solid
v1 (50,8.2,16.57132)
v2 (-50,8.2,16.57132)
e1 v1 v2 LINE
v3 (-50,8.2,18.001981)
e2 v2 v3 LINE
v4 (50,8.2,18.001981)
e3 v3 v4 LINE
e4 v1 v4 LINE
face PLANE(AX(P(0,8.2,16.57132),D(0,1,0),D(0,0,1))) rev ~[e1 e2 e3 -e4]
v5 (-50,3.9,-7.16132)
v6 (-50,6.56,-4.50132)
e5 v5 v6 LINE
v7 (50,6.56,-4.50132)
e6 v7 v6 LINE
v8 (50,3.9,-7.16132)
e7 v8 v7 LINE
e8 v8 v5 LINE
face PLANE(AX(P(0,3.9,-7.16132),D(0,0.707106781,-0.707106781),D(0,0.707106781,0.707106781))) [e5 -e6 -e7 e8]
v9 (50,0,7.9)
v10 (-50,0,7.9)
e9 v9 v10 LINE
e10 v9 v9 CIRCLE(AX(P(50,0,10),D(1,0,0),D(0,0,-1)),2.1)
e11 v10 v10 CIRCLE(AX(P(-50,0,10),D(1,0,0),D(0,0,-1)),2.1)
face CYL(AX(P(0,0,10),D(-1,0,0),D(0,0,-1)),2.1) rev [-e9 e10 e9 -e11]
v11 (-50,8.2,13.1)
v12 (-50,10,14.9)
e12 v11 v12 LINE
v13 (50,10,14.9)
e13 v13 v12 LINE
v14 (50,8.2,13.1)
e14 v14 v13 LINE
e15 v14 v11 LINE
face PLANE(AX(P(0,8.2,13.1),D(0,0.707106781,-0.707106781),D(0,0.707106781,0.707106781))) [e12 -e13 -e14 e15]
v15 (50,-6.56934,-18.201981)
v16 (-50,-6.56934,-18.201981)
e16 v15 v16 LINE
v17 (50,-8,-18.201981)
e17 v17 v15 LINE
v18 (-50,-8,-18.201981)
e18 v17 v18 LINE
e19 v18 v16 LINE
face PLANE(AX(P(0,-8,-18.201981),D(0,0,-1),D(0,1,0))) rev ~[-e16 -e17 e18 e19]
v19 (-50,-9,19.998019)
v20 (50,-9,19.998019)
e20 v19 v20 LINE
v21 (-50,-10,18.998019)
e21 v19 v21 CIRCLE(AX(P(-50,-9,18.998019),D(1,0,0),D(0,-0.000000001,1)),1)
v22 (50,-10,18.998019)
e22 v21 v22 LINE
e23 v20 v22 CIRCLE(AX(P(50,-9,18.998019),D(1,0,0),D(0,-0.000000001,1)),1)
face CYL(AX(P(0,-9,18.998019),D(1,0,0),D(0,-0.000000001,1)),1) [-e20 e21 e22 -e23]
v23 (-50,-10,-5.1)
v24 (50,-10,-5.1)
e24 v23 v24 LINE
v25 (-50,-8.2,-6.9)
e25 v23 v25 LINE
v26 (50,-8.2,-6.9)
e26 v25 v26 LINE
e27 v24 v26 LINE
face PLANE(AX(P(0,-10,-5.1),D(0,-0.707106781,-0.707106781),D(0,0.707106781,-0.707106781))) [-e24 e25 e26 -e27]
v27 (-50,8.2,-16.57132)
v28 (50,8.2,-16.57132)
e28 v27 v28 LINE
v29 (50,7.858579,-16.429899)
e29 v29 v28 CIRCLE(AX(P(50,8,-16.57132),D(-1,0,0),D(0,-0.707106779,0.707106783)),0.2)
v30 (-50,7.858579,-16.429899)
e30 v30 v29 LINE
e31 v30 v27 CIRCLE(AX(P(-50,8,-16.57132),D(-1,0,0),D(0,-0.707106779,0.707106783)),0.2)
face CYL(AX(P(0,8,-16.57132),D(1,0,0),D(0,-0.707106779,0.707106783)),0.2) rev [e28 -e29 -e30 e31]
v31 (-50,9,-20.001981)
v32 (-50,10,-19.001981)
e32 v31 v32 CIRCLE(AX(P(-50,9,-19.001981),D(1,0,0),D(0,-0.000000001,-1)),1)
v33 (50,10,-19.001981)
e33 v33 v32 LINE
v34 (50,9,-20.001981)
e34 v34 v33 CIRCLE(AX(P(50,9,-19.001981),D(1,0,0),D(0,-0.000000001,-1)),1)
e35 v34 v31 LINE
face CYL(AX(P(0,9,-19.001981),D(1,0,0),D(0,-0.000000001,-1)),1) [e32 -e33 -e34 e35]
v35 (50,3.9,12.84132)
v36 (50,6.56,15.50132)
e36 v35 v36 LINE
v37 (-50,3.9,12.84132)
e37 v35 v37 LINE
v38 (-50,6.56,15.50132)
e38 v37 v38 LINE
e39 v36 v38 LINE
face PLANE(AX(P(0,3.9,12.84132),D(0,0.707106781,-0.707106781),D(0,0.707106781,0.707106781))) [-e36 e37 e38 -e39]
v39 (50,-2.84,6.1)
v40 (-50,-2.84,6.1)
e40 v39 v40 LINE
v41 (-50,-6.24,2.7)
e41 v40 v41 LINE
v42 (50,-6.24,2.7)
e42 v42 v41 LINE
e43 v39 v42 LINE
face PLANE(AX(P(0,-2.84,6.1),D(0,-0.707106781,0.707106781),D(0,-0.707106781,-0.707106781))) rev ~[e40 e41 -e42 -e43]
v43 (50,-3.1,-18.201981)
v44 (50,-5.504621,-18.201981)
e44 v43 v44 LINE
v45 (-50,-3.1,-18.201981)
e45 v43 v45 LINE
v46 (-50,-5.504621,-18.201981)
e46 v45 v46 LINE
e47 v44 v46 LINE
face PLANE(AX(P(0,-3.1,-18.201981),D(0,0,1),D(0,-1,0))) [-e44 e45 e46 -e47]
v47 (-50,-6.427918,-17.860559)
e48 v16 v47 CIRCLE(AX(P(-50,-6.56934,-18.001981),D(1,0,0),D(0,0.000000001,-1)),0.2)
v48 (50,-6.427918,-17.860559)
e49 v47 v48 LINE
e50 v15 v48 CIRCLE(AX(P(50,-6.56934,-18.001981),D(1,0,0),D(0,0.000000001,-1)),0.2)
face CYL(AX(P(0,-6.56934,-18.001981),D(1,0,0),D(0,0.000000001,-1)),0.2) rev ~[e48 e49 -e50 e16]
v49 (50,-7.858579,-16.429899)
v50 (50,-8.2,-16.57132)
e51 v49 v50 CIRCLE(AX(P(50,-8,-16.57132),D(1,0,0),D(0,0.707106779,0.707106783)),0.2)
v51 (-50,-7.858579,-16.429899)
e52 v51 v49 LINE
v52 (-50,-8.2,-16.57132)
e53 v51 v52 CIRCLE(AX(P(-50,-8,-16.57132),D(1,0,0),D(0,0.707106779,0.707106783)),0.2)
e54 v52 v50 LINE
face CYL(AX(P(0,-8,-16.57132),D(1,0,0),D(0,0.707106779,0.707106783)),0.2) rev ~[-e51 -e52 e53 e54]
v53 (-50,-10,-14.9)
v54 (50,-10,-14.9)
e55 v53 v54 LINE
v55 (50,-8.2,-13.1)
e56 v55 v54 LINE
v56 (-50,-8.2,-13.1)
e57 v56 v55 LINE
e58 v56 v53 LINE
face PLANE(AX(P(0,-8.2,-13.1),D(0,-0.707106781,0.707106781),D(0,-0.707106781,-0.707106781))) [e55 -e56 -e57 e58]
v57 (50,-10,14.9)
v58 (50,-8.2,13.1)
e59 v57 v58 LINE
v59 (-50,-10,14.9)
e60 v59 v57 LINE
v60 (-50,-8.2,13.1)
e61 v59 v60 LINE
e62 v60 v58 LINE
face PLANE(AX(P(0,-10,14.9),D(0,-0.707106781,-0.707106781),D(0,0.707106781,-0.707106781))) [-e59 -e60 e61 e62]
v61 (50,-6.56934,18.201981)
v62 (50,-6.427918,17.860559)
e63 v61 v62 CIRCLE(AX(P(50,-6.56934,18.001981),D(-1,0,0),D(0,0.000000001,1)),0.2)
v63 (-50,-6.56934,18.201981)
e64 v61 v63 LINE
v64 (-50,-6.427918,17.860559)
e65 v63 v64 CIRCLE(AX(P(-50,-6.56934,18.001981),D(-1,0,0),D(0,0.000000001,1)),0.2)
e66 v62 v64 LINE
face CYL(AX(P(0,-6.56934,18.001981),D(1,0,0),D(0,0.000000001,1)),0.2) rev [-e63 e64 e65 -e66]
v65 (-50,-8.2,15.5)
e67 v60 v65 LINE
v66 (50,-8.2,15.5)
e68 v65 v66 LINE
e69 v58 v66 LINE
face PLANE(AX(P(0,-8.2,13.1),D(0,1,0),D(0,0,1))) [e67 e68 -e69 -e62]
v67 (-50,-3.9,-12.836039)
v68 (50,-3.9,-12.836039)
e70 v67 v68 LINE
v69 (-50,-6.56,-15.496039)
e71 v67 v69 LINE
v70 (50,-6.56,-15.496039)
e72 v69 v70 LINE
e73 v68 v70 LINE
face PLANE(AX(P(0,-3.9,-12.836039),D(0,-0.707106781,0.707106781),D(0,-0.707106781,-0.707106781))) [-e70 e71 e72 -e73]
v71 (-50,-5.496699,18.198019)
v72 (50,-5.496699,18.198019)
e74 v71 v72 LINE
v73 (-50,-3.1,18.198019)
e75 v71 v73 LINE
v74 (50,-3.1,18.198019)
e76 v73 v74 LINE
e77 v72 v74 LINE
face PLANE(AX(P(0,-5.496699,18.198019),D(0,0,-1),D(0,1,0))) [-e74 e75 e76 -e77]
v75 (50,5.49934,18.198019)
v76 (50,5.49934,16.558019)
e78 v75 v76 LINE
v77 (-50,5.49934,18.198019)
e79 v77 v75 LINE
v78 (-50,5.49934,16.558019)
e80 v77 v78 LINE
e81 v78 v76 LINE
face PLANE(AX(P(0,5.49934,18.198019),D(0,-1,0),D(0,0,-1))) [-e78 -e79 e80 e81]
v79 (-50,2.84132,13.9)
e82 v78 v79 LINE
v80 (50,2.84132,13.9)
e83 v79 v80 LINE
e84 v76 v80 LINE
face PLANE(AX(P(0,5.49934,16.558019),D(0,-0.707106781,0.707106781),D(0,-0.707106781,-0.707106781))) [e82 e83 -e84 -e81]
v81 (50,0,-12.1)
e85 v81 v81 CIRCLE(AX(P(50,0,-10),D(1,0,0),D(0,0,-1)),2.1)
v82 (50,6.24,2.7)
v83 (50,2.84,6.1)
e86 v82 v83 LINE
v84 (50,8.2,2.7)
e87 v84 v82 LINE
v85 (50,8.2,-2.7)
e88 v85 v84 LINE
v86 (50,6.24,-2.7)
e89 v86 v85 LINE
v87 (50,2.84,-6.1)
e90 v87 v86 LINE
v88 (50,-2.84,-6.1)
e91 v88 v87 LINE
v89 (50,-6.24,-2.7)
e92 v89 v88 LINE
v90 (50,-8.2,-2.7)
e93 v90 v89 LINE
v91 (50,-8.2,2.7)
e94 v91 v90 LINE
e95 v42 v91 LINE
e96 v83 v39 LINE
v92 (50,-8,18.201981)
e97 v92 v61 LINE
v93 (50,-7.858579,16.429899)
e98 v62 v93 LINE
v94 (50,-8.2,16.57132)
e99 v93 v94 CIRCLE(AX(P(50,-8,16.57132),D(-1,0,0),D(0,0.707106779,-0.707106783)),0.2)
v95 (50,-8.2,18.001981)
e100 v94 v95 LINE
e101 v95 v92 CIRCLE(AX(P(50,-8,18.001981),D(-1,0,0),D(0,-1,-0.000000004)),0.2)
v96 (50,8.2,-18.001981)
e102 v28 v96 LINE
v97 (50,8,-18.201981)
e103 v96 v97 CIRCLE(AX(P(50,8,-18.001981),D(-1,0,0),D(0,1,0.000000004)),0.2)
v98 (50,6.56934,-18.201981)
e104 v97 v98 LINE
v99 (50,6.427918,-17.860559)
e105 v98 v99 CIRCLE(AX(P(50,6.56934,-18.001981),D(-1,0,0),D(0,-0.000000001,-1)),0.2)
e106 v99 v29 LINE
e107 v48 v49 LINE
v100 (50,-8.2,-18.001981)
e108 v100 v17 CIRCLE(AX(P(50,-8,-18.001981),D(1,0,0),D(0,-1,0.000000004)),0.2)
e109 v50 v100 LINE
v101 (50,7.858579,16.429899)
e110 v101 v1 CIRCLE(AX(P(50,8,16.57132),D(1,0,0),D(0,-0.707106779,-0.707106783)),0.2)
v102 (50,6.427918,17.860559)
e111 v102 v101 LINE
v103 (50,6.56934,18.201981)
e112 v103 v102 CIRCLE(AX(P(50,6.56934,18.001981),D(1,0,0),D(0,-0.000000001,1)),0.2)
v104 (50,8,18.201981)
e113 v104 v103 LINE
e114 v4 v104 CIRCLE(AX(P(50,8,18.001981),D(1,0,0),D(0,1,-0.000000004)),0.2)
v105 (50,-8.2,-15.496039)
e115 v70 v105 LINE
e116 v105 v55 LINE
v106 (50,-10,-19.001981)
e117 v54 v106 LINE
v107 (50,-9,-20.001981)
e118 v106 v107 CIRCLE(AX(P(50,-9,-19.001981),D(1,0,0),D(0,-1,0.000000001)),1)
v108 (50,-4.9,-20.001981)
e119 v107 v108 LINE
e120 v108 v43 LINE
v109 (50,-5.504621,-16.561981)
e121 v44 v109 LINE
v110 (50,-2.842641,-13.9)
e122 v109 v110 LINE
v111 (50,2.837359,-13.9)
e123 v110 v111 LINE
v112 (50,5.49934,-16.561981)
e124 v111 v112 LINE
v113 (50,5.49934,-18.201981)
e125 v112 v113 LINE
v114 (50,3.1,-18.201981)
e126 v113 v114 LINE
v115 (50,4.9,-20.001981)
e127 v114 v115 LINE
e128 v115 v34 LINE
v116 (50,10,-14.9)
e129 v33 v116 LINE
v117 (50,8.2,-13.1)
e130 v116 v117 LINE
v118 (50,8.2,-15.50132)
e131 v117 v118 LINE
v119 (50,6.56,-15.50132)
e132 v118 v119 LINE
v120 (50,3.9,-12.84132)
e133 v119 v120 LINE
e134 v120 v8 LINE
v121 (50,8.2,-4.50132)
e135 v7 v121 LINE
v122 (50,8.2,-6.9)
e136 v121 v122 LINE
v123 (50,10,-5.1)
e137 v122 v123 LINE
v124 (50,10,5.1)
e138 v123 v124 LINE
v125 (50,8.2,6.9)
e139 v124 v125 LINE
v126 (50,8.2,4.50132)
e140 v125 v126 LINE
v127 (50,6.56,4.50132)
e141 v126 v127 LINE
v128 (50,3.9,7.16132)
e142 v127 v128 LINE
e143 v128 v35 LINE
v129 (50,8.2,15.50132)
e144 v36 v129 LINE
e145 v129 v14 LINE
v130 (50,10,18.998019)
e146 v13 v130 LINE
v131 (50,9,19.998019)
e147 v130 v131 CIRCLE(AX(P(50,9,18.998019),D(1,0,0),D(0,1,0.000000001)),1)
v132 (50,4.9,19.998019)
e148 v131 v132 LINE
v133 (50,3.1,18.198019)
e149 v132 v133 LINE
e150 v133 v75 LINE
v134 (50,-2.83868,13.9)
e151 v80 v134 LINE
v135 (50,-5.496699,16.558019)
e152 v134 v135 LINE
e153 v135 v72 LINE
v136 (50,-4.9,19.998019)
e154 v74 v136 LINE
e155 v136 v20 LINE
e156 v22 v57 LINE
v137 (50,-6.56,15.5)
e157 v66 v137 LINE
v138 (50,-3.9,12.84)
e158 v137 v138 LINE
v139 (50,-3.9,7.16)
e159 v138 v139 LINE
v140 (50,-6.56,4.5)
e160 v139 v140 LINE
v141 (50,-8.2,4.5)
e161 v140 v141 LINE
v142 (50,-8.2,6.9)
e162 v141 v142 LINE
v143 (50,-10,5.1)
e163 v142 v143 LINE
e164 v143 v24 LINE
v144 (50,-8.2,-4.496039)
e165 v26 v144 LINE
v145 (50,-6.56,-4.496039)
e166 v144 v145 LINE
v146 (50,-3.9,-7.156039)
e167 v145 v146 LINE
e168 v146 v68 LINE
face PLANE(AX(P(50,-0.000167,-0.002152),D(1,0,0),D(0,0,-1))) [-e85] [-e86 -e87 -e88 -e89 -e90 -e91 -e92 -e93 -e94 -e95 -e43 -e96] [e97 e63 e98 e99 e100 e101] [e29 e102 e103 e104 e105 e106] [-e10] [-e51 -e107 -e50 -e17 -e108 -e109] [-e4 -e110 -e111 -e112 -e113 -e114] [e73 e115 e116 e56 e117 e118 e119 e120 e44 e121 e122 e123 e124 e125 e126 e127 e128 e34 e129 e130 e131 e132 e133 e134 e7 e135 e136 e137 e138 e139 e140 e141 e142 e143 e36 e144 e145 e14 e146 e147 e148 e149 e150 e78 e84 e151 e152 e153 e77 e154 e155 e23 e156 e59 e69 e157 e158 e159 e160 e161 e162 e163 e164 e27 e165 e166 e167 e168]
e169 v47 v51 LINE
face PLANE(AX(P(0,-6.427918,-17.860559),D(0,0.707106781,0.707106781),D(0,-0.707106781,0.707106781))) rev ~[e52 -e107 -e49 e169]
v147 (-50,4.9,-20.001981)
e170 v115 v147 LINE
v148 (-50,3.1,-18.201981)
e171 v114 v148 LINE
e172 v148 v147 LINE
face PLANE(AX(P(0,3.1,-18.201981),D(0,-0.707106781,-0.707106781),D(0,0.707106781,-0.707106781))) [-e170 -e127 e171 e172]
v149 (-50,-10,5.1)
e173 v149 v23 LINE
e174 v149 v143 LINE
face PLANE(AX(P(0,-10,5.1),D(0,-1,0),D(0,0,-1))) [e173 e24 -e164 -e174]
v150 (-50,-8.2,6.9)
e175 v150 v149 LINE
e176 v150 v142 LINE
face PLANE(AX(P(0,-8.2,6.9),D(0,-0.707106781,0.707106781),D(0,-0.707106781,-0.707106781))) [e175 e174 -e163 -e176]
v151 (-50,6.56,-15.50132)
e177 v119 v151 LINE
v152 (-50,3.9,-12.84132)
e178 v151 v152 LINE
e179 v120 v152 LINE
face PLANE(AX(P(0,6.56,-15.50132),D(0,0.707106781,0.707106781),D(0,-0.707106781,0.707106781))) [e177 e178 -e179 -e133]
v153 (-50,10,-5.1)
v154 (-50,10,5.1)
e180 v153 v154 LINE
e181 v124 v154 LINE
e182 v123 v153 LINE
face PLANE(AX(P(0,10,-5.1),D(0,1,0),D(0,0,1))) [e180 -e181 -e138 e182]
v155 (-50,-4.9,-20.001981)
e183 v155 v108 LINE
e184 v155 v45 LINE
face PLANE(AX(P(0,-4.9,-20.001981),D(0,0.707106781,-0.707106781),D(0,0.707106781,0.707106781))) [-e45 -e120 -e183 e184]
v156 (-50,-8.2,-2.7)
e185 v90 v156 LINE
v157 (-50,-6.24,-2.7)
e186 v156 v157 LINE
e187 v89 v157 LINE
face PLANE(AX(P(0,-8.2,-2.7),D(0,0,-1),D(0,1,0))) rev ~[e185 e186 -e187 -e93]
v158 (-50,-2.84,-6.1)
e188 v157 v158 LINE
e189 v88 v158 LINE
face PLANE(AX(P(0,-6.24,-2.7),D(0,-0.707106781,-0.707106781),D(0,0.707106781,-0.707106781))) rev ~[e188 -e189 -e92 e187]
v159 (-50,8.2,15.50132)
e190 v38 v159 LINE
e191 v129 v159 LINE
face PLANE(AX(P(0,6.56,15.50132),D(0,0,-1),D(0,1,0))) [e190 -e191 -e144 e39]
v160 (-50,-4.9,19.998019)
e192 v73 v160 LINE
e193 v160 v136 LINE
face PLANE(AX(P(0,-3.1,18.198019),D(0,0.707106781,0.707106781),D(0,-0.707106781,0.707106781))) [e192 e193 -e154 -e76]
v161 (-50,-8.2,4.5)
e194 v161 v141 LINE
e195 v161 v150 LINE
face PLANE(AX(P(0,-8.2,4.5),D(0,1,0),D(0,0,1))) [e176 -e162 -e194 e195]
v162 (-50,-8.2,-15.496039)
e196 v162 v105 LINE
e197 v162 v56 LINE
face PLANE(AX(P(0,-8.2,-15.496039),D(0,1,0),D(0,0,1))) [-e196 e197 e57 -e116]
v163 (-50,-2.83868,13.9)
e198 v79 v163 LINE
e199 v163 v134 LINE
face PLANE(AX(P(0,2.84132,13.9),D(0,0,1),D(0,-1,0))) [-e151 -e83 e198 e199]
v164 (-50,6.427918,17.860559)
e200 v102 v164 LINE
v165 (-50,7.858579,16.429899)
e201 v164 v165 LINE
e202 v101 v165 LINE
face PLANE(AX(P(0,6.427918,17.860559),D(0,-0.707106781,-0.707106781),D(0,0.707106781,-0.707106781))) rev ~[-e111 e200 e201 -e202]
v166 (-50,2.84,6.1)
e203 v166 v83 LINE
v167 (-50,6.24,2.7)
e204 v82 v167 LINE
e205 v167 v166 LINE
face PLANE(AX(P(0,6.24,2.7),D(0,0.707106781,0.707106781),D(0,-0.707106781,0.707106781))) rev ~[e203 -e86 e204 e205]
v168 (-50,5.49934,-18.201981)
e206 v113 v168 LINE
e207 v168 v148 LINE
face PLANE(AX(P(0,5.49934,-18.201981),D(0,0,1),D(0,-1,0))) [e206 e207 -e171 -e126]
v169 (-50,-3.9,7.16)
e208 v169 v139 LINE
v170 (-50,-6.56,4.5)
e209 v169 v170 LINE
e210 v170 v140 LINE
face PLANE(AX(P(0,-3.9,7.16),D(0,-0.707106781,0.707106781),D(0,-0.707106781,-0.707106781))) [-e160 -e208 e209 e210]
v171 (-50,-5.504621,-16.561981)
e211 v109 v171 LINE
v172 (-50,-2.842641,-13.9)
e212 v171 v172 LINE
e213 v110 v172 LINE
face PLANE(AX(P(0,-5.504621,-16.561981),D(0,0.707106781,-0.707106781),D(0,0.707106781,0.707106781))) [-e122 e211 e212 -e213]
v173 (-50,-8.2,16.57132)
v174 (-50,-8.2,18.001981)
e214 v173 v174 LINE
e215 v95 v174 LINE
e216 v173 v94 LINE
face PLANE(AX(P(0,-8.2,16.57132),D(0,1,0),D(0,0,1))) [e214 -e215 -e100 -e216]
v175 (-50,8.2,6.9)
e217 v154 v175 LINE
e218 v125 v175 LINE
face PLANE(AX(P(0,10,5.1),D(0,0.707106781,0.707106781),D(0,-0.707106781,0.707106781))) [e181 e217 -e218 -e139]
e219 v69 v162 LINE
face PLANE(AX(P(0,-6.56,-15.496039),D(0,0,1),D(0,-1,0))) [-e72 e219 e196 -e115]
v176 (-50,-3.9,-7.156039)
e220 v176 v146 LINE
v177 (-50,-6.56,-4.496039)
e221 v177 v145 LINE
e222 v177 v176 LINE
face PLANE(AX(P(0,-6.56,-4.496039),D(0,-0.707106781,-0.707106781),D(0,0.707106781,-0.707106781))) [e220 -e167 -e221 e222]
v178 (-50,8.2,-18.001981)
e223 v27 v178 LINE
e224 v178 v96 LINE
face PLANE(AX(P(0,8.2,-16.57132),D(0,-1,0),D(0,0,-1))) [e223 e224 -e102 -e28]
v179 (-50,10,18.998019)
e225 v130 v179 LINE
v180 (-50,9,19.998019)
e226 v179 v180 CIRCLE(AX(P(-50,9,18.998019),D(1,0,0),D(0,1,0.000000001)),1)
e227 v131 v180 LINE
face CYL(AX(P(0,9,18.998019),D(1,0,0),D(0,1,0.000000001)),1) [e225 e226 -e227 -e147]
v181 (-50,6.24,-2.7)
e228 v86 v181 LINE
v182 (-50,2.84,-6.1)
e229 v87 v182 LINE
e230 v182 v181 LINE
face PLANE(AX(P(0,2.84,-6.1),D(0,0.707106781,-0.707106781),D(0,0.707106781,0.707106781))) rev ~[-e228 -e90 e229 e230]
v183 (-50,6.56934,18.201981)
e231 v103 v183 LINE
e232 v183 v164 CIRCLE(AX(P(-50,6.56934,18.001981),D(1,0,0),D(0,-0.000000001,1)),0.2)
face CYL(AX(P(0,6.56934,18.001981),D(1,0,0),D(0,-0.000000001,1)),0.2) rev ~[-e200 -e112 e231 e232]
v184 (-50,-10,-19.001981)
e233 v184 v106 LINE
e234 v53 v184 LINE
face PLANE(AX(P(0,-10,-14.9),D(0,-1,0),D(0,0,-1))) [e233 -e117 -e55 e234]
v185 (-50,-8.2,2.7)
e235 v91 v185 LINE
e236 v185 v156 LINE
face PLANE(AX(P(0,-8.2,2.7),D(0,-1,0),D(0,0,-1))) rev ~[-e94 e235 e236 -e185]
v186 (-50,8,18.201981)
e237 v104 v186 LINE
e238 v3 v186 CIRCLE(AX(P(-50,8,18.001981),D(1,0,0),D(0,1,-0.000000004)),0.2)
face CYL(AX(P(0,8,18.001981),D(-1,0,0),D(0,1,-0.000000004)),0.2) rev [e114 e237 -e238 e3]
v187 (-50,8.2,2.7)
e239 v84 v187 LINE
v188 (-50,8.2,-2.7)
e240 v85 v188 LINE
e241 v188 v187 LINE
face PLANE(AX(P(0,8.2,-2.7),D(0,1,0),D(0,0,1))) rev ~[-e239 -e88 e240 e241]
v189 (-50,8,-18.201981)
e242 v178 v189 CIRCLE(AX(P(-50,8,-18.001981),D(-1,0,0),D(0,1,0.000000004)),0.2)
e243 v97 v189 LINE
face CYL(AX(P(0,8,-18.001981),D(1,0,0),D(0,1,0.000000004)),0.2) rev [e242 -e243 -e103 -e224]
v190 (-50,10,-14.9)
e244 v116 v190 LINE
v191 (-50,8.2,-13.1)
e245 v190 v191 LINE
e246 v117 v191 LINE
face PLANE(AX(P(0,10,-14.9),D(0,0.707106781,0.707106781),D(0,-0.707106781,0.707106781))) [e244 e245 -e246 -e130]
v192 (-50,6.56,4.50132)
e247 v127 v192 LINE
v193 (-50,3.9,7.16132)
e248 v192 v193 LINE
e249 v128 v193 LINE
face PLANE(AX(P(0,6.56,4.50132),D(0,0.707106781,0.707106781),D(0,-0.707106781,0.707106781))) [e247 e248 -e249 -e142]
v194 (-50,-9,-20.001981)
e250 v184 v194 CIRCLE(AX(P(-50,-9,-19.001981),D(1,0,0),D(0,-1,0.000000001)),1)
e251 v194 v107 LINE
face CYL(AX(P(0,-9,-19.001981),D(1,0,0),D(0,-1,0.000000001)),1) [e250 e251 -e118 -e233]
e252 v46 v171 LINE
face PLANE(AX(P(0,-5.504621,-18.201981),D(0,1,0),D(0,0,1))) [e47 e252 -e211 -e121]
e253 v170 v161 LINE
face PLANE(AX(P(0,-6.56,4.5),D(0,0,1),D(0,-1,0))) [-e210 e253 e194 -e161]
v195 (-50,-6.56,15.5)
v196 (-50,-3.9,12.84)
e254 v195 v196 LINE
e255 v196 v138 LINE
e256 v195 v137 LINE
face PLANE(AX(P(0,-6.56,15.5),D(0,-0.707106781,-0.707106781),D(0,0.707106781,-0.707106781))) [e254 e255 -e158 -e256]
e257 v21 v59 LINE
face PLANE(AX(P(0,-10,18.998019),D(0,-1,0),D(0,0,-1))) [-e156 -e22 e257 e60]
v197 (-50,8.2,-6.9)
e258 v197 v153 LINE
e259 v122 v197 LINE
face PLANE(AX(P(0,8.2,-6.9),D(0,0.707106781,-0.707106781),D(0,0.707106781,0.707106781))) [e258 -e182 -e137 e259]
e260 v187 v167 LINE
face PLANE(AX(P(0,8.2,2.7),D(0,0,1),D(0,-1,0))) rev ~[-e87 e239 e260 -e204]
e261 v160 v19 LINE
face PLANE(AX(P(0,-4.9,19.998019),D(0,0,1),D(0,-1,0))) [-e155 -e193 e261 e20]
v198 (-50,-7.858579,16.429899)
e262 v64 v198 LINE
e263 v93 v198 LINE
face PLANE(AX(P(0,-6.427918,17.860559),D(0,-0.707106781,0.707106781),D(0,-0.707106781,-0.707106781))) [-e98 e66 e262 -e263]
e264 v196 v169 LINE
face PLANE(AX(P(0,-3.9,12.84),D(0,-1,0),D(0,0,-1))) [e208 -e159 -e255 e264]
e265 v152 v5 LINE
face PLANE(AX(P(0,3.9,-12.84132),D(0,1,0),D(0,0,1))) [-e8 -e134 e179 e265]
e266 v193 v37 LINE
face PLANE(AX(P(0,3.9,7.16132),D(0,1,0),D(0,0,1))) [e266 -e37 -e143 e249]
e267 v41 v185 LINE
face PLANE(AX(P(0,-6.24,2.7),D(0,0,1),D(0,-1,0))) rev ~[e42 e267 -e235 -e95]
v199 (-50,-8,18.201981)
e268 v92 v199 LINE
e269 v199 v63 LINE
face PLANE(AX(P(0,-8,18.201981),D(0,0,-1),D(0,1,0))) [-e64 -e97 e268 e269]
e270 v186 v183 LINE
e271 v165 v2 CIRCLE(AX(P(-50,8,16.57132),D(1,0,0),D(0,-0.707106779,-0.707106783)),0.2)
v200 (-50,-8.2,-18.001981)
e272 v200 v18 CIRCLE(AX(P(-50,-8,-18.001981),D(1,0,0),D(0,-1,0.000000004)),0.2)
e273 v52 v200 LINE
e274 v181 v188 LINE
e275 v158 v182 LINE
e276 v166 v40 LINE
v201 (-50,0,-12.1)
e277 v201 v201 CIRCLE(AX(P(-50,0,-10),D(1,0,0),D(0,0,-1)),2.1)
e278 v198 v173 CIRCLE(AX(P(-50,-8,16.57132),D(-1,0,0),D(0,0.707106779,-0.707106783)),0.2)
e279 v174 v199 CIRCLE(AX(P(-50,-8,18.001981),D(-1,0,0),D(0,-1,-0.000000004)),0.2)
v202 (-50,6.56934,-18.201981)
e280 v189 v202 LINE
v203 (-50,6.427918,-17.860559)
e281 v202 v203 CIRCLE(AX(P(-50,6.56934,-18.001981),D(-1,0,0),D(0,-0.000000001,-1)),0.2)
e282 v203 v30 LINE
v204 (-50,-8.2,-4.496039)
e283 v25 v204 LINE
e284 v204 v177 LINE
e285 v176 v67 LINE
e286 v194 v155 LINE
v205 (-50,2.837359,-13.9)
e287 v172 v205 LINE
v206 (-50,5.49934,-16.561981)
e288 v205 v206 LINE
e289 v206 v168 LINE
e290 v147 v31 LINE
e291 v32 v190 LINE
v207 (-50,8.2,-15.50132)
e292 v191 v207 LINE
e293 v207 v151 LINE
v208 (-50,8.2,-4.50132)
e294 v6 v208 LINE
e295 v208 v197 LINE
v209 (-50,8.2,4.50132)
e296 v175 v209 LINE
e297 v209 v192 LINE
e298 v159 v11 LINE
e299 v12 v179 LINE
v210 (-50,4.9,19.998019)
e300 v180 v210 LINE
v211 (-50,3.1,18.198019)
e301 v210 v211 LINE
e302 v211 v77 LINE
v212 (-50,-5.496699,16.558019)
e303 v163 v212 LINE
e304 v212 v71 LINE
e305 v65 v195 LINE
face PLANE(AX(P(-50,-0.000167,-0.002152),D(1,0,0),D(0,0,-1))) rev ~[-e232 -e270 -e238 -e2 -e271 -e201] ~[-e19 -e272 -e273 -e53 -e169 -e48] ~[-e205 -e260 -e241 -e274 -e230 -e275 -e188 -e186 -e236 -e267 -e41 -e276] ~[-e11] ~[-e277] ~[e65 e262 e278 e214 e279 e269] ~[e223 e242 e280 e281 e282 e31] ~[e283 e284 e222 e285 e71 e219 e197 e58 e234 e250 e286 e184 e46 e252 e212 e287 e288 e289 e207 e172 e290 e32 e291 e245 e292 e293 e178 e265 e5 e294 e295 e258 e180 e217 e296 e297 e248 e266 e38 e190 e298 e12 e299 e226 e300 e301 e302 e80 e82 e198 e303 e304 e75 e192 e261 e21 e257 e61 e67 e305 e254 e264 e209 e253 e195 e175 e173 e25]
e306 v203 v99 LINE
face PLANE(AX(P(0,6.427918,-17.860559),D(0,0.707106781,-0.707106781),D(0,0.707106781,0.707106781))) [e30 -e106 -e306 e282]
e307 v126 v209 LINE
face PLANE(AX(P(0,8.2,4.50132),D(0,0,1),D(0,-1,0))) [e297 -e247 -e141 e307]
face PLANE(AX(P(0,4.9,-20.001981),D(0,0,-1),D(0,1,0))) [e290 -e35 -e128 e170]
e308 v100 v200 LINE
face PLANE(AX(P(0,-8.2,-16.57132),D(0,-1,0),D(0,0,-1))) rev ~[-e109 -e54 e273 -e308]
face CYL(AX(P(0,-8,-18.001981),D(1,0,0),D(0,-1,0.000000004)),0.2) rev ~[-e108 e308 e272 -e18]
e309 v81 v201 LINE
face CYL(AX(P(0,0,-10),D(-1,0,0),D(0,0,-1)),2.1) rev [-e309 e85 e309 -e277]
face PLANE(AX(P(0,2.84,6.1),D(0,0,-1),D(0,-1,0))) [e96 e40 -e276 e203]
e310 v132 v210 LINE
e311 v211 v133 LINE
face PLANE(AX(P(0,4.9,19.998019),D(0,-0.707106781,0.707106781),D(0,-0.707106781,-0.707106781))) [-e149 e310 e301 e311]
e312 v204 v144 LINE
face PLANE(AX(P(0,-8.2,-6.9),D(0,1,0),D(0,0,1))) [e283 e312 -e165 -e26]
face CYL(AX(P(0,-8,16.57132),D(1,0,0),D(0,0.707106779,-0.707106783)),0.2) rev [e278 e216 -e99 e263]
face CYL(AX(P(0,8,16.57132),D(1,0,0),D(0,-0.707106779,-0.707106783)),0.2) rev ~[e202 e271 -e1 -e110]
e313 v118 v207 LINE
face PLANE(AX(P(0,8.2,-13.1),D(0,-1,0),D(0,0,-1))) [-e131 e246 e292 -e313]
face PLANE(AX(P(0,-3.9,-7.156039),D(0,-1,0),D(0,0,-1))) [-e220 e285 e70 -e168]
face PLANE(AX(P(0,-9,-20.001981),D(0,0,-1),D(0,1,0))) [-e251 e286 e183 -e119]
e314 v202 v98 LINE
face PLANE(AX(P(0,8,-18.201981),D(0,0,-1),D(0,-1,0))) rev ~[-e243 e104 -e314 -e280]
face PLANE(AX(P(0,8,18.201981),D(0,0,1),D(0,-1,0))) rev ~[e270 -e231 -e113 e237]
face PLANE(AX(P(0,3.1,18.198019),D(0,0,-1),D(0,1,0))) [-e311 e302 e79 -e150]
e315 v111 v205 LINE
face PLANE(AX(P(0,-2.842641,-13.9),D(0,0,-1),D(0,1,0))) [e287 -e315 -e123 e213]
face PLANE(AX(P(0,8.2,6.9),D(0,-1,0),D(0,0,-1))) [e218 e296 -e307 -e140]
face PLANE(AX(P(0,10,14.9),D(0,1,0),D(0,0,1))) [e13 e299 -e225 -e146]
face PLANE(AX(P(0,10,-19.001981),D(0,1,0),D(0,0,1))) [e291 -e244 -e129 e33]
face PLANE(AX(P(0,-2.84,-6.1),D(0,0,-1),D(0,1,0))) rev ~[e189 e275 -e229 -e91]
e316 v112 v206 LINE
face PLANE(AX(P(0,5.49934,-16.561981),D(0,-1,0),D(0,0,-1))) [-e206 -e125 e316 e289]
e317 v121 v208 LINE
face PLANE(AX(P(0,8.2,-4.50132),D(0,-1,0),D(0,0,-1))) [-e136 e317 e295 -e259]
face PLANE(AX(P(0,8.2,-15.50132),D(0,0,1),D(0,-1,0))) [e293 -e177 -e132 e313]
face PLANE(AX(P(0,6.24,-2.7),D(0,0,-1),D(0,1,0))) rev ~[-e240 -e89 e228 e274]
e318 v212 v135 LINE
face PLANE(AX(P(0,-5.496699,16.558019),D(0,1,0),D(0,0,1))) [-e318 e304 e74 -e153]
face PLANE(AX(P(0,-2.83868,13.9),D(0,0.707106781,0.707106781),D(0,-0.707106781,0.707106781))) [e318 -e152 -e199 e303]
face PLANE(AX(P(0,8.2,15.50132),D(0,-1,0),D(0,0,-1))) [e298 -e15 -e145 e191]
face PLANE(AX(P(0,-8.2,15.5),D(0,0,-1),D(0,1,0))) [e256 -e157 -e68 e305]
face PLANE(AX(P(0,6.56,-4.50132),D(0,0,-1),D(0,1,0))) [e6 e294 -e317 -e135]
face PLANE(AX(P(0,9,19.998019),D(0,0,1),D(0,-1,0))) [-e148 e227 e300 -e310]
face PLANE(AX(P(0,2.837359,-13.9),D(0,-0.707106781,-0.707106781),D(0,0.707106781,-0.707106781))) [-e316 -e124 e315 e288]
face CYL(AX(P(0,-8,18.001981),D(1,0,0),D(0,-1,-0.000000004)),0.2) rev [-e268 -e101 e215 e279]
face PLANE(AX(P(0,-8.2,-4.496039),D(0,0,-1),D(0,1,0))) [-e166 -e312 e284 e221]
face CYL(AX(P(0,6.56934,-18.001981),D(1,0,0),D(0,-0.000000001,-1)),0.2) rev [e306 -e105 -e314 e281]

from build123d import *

# Parameters (mm, degrees)
SKETCH5_R           = 2.1
BOSS_EXTRUDE1_DEPTH = 50


with BuildPart() as part:
    # Sketch5 → Boss-Extrude1 (new, symmetric)
    with BuildSketch(Plane(origin=(0, 0, 0), x_dir=(0, 0, -1), z_dir=(1, 0, 0))):
        with BuildLine():
            Line((-19.998019485, 4.9), (-18.198019485, 3.1))
            Line((-18.198019485, 3.1), (-18.198019485, 5.499339828))
            Line((-18.198019485, 5.499339828), (-16.558019485, 5.499339828))
            Line((-16.558019485, 5.499339828), (-13.9, 2.841320344))
            Line((-13.9, 2.841320344), (-13.9, -2.838679656))
            Line((-13.9, -2.838679656), (-16.558019485, -5.496699141))
            Line((-16.558019485, -5.496699141), (-18.198019485, -5.496699141))
            Line((-18.198019485, -5.496699141), (-18.198019485, -3.1))
            Line((-18.198019485, -3.1), (-19.998019485, -4.9))
            Line((-19.998019485, -4.9), (-19.998019485, -9))
            ThreePointArc((-19.998019485, -9), (-19.705126266, -9.707106781), (-18.998019485, -10))
            Line((-18.998019485, -10), (-14.9, -10))
            Line((-14.9, -10), (-13.1, -8.2))
            Line((-13.1, -8.2), (-15.5, -8.2))
            Line((-15.5, -8.2), (-15.5, -6.56))
            Line((-15.5, -6.56), (-12.84, -3.9))
            Line((-12.84, -3.9), (-7.16, -3.9))
            Line((-7.16, -3.9), (-4.5, -6.56))
            Line((-4.5, -6.56), (-4.5, -8.2))
            Line((-4.5, -8.2), (-6.9, -8.2))
            Line((-6.9, -8.2), (-5.1, -10))
            Line((-5.1, -10), (5.1, -10))
            Line((5.1, -10), (6.9, -8.2))
            Line((6.9, -8.2), (4.496038969, -8.2))
            Line((4.496038969, -8.2), (4.496038969, -6.56))
            Line((4.496038969, -6.56), (7.156038969, -3.9))
            Line((7.156038969, -3.9), (12.836038969, -3.9))
            Line((12.836038969, -3.9), (15.496038969, -6.56))
            Line((15.496038969, -6.56), (15.496038969, -8.2))
            Line((15.496038969, -8.2), (13.1, -8.2))
            Line((13.1, -8.2), (14.9, -10))
            Line((14.9, -10), (19.001980515, -10))
            ThreePointArc((19.001980515, -10), (19.709087297, -9.707106781), (20.001980515, -9))
            Line((20.001980515, -9), (20.001980515, -4.9))
            Line((20.001980515, -4.9), (18.201980515, -3.1))
            Line((18.201980515, -3.1), (18.201980515, -5.504621202))
            Line((18.201980515, -5.504621202), (16.561980515, -5.504621202))
            Line((16.561980515, -5.504621202), (13.9, -2.842640687))
            Line((13.9, -2.842640687), (13.9, 2.837359313))
            Line((13.9, 2.837359313), (16.561980515, 5.499339828))
            Line((16.561980515, 5.499339828), (18.201980515, 5.499339828))
            Line((18.201980515, 5.499339828), (18.201980515, 3.1))
            Line((18.201980515, 3.1), (20.001980515, 4.9))
            Line((20.001980515, 4.9), (20.001980515, 9))
            ThreePointArc((20.001980515, 9), (19.709087297, 9.707106781), (19.001980515, 10))
            Line((19.001980515, 10), (14.9, 10))
            Line((14.9, 10), (13.1, 8.2))
            Line((13.1, 8.2), (15.501320344, 8.2))
            Line((15.501320344, 8.2), (15.501320344, 6.56))
            Line((15.501320344, 6.56), (12.841320344, 3.9))
            Line((12.841320344, 3.9), (7.161320344, 3.9))
            Line((7.161320344, 3.9), (4.501320344, 6.56))
            Line((4.501320344, 6.56), (4.501320344, 8.2))
            Line((4.501320344, 8.2), (6.9, 8.2))
            Line((6.9, 8.2), (5.1, 10))
            Line((5.1, 10), (-5.1, 10))
            Line((-5.1, 10), (-6.9, 8.2))
            Line((-6.9, 8.2), (-4.501320344, 8.2))
            Line((-4.501320344, 8.2), (-4.501320344, 6.56))
            Line((-4.501320344, 6.56), (-7.161320344, 3.9))
            Line((-7.161320344, 3.9), (-12.841320344, 3.9))
            Line((-12.841320344, 3.9), (-15.501320344, 6.56))
            Line((-15.501320344, 6.56), (-15.501320344, 8.2))
            Line((-15.501320344, 8.2), (-13.1, 8.2))
            Line((-13.1, 8.2), (-14.9, 10))
            Line((-14.9, 10), (-18.998019485, 10))
            ThreePointArc((-18.998019485, 10), (-19.705126266, 9.707106781), (-19.998019485, 9))
            Line((-19.998019485, 9), (-19.998019485, 4.9))
        make_face()
        with Locations((-10, 0)):
            Circle(SKETCH5_R, mode=Mode.SUBTRACT)
        with Locations((10, 0)):
            Circle(SKETCH5_R, mode=Mode.SUBTRACT)
        Polygon((6.1, -2.84), (6.1, 2.84), (2.7, 6.24), (2.7, 8.2), (-2.7, 8.2), (-2.7, 6.24), (-6.1, 2.84), (-6.1, -2.84), (-2.7, -6.24), (-2.7, -8.2), (2.7, -8.2), (2.7, -6.24), align=None, mode=Mode.SUBTRACT)
        with BuildLine():
            Line((16.571320344, 8.2), (18.001980515, 8.2))
            ThreePointArc((18.001980515, 8.2), (18.143401872, 8.141421356), (18.201980515, 8))
            Line((18.201980515, 8), (18.201980515, 6.569339828))
            ThreePointArc((18.201980515, 6.569339828), (18.078517202, 6.384563922), (17.860559159, 6.427918472))
            Line((17.860559159, 6.427918472), (16.429898987, 7.858578644))
            ThreePointArc((16.429898987, 7.858578644), (16.386544437, 8.076536686), (16.571320344, 8.2))
        make_face(mode=Mode.SUBTRACT)
        with BuildLine():
            Line((16.571320344, -8.2), (18.001980515, -8.2))
            ThreePointArc((18.001980515, -8.2), (18.143401872, -8.141421356), (18.201980515, -8))
            Line((18.201980515, -8), (18.201980515, -6.569339828))
            ThreePointArc((18.201980515, -6.569339828), (18.078517202, -6.384563922), (17.860559159, -6.427918472))
            Line((17.860559159, -6.427918472), (16.429898987, -7.858578644))
            ThreePointArc((16.429898987, -7.858578644), (16.386544437, -8.076536686), (16.571320344, -8.2))
        make_face(mode=Mode.SUBTRACT)
        with BuildLine():
            Line((-17.860559159, 6.427918472), (-16.429898987, 7.858578644))
            ThreePointArc((-16.429898987, 7.858578644), (-16.386544437, 8.076536686), (-16.571320344, 8.2))
            Line((-16.571320344, 8.2), (-18.001980515, 8.2))
            ThreePointArc((-18.001980515, 8.2), (-18.143401872, 8.141421356), (-18.201980515, 8))
            Line((-18.201980515, 8), (-18.201980515, 6.569339828))
            ThreePointArc((-18.201980515, 6.569339828), (-18.078517202, 6.384563922), (-17.860559159, 6.427918472))
        make_face(mode=Mode.SUBTRACT)
        with BuildLine():
            Line((-16.571320344, -8.2), (-18.001980515, -8.2))
            ThreePointArc((-18.001980515, -8.2), (-18.143401872, -8.141421356), (-18.201980515, -8))
            Line((-18.201980515, -8), (-18.201980515, -6.569339828))
            ThreePointArc((-18.201980515, -6.569339828), (-18.078517202, -6.384563922), (-17.860559159, -6.427918472))
            Line((-17.860559159, -6.427918472), (-16.429898987, -7.858578644))
            ThreePointArc((-16.429898987, -7.858578644), (-16.386544437, -8.076536686), (-16.571320344, -8.2))
        make_face(mode=Mode.SUBTRACT)
    extrude(amount=BOSS_EXTRUDE1_DEPTH, both=True)


solid = part.part
